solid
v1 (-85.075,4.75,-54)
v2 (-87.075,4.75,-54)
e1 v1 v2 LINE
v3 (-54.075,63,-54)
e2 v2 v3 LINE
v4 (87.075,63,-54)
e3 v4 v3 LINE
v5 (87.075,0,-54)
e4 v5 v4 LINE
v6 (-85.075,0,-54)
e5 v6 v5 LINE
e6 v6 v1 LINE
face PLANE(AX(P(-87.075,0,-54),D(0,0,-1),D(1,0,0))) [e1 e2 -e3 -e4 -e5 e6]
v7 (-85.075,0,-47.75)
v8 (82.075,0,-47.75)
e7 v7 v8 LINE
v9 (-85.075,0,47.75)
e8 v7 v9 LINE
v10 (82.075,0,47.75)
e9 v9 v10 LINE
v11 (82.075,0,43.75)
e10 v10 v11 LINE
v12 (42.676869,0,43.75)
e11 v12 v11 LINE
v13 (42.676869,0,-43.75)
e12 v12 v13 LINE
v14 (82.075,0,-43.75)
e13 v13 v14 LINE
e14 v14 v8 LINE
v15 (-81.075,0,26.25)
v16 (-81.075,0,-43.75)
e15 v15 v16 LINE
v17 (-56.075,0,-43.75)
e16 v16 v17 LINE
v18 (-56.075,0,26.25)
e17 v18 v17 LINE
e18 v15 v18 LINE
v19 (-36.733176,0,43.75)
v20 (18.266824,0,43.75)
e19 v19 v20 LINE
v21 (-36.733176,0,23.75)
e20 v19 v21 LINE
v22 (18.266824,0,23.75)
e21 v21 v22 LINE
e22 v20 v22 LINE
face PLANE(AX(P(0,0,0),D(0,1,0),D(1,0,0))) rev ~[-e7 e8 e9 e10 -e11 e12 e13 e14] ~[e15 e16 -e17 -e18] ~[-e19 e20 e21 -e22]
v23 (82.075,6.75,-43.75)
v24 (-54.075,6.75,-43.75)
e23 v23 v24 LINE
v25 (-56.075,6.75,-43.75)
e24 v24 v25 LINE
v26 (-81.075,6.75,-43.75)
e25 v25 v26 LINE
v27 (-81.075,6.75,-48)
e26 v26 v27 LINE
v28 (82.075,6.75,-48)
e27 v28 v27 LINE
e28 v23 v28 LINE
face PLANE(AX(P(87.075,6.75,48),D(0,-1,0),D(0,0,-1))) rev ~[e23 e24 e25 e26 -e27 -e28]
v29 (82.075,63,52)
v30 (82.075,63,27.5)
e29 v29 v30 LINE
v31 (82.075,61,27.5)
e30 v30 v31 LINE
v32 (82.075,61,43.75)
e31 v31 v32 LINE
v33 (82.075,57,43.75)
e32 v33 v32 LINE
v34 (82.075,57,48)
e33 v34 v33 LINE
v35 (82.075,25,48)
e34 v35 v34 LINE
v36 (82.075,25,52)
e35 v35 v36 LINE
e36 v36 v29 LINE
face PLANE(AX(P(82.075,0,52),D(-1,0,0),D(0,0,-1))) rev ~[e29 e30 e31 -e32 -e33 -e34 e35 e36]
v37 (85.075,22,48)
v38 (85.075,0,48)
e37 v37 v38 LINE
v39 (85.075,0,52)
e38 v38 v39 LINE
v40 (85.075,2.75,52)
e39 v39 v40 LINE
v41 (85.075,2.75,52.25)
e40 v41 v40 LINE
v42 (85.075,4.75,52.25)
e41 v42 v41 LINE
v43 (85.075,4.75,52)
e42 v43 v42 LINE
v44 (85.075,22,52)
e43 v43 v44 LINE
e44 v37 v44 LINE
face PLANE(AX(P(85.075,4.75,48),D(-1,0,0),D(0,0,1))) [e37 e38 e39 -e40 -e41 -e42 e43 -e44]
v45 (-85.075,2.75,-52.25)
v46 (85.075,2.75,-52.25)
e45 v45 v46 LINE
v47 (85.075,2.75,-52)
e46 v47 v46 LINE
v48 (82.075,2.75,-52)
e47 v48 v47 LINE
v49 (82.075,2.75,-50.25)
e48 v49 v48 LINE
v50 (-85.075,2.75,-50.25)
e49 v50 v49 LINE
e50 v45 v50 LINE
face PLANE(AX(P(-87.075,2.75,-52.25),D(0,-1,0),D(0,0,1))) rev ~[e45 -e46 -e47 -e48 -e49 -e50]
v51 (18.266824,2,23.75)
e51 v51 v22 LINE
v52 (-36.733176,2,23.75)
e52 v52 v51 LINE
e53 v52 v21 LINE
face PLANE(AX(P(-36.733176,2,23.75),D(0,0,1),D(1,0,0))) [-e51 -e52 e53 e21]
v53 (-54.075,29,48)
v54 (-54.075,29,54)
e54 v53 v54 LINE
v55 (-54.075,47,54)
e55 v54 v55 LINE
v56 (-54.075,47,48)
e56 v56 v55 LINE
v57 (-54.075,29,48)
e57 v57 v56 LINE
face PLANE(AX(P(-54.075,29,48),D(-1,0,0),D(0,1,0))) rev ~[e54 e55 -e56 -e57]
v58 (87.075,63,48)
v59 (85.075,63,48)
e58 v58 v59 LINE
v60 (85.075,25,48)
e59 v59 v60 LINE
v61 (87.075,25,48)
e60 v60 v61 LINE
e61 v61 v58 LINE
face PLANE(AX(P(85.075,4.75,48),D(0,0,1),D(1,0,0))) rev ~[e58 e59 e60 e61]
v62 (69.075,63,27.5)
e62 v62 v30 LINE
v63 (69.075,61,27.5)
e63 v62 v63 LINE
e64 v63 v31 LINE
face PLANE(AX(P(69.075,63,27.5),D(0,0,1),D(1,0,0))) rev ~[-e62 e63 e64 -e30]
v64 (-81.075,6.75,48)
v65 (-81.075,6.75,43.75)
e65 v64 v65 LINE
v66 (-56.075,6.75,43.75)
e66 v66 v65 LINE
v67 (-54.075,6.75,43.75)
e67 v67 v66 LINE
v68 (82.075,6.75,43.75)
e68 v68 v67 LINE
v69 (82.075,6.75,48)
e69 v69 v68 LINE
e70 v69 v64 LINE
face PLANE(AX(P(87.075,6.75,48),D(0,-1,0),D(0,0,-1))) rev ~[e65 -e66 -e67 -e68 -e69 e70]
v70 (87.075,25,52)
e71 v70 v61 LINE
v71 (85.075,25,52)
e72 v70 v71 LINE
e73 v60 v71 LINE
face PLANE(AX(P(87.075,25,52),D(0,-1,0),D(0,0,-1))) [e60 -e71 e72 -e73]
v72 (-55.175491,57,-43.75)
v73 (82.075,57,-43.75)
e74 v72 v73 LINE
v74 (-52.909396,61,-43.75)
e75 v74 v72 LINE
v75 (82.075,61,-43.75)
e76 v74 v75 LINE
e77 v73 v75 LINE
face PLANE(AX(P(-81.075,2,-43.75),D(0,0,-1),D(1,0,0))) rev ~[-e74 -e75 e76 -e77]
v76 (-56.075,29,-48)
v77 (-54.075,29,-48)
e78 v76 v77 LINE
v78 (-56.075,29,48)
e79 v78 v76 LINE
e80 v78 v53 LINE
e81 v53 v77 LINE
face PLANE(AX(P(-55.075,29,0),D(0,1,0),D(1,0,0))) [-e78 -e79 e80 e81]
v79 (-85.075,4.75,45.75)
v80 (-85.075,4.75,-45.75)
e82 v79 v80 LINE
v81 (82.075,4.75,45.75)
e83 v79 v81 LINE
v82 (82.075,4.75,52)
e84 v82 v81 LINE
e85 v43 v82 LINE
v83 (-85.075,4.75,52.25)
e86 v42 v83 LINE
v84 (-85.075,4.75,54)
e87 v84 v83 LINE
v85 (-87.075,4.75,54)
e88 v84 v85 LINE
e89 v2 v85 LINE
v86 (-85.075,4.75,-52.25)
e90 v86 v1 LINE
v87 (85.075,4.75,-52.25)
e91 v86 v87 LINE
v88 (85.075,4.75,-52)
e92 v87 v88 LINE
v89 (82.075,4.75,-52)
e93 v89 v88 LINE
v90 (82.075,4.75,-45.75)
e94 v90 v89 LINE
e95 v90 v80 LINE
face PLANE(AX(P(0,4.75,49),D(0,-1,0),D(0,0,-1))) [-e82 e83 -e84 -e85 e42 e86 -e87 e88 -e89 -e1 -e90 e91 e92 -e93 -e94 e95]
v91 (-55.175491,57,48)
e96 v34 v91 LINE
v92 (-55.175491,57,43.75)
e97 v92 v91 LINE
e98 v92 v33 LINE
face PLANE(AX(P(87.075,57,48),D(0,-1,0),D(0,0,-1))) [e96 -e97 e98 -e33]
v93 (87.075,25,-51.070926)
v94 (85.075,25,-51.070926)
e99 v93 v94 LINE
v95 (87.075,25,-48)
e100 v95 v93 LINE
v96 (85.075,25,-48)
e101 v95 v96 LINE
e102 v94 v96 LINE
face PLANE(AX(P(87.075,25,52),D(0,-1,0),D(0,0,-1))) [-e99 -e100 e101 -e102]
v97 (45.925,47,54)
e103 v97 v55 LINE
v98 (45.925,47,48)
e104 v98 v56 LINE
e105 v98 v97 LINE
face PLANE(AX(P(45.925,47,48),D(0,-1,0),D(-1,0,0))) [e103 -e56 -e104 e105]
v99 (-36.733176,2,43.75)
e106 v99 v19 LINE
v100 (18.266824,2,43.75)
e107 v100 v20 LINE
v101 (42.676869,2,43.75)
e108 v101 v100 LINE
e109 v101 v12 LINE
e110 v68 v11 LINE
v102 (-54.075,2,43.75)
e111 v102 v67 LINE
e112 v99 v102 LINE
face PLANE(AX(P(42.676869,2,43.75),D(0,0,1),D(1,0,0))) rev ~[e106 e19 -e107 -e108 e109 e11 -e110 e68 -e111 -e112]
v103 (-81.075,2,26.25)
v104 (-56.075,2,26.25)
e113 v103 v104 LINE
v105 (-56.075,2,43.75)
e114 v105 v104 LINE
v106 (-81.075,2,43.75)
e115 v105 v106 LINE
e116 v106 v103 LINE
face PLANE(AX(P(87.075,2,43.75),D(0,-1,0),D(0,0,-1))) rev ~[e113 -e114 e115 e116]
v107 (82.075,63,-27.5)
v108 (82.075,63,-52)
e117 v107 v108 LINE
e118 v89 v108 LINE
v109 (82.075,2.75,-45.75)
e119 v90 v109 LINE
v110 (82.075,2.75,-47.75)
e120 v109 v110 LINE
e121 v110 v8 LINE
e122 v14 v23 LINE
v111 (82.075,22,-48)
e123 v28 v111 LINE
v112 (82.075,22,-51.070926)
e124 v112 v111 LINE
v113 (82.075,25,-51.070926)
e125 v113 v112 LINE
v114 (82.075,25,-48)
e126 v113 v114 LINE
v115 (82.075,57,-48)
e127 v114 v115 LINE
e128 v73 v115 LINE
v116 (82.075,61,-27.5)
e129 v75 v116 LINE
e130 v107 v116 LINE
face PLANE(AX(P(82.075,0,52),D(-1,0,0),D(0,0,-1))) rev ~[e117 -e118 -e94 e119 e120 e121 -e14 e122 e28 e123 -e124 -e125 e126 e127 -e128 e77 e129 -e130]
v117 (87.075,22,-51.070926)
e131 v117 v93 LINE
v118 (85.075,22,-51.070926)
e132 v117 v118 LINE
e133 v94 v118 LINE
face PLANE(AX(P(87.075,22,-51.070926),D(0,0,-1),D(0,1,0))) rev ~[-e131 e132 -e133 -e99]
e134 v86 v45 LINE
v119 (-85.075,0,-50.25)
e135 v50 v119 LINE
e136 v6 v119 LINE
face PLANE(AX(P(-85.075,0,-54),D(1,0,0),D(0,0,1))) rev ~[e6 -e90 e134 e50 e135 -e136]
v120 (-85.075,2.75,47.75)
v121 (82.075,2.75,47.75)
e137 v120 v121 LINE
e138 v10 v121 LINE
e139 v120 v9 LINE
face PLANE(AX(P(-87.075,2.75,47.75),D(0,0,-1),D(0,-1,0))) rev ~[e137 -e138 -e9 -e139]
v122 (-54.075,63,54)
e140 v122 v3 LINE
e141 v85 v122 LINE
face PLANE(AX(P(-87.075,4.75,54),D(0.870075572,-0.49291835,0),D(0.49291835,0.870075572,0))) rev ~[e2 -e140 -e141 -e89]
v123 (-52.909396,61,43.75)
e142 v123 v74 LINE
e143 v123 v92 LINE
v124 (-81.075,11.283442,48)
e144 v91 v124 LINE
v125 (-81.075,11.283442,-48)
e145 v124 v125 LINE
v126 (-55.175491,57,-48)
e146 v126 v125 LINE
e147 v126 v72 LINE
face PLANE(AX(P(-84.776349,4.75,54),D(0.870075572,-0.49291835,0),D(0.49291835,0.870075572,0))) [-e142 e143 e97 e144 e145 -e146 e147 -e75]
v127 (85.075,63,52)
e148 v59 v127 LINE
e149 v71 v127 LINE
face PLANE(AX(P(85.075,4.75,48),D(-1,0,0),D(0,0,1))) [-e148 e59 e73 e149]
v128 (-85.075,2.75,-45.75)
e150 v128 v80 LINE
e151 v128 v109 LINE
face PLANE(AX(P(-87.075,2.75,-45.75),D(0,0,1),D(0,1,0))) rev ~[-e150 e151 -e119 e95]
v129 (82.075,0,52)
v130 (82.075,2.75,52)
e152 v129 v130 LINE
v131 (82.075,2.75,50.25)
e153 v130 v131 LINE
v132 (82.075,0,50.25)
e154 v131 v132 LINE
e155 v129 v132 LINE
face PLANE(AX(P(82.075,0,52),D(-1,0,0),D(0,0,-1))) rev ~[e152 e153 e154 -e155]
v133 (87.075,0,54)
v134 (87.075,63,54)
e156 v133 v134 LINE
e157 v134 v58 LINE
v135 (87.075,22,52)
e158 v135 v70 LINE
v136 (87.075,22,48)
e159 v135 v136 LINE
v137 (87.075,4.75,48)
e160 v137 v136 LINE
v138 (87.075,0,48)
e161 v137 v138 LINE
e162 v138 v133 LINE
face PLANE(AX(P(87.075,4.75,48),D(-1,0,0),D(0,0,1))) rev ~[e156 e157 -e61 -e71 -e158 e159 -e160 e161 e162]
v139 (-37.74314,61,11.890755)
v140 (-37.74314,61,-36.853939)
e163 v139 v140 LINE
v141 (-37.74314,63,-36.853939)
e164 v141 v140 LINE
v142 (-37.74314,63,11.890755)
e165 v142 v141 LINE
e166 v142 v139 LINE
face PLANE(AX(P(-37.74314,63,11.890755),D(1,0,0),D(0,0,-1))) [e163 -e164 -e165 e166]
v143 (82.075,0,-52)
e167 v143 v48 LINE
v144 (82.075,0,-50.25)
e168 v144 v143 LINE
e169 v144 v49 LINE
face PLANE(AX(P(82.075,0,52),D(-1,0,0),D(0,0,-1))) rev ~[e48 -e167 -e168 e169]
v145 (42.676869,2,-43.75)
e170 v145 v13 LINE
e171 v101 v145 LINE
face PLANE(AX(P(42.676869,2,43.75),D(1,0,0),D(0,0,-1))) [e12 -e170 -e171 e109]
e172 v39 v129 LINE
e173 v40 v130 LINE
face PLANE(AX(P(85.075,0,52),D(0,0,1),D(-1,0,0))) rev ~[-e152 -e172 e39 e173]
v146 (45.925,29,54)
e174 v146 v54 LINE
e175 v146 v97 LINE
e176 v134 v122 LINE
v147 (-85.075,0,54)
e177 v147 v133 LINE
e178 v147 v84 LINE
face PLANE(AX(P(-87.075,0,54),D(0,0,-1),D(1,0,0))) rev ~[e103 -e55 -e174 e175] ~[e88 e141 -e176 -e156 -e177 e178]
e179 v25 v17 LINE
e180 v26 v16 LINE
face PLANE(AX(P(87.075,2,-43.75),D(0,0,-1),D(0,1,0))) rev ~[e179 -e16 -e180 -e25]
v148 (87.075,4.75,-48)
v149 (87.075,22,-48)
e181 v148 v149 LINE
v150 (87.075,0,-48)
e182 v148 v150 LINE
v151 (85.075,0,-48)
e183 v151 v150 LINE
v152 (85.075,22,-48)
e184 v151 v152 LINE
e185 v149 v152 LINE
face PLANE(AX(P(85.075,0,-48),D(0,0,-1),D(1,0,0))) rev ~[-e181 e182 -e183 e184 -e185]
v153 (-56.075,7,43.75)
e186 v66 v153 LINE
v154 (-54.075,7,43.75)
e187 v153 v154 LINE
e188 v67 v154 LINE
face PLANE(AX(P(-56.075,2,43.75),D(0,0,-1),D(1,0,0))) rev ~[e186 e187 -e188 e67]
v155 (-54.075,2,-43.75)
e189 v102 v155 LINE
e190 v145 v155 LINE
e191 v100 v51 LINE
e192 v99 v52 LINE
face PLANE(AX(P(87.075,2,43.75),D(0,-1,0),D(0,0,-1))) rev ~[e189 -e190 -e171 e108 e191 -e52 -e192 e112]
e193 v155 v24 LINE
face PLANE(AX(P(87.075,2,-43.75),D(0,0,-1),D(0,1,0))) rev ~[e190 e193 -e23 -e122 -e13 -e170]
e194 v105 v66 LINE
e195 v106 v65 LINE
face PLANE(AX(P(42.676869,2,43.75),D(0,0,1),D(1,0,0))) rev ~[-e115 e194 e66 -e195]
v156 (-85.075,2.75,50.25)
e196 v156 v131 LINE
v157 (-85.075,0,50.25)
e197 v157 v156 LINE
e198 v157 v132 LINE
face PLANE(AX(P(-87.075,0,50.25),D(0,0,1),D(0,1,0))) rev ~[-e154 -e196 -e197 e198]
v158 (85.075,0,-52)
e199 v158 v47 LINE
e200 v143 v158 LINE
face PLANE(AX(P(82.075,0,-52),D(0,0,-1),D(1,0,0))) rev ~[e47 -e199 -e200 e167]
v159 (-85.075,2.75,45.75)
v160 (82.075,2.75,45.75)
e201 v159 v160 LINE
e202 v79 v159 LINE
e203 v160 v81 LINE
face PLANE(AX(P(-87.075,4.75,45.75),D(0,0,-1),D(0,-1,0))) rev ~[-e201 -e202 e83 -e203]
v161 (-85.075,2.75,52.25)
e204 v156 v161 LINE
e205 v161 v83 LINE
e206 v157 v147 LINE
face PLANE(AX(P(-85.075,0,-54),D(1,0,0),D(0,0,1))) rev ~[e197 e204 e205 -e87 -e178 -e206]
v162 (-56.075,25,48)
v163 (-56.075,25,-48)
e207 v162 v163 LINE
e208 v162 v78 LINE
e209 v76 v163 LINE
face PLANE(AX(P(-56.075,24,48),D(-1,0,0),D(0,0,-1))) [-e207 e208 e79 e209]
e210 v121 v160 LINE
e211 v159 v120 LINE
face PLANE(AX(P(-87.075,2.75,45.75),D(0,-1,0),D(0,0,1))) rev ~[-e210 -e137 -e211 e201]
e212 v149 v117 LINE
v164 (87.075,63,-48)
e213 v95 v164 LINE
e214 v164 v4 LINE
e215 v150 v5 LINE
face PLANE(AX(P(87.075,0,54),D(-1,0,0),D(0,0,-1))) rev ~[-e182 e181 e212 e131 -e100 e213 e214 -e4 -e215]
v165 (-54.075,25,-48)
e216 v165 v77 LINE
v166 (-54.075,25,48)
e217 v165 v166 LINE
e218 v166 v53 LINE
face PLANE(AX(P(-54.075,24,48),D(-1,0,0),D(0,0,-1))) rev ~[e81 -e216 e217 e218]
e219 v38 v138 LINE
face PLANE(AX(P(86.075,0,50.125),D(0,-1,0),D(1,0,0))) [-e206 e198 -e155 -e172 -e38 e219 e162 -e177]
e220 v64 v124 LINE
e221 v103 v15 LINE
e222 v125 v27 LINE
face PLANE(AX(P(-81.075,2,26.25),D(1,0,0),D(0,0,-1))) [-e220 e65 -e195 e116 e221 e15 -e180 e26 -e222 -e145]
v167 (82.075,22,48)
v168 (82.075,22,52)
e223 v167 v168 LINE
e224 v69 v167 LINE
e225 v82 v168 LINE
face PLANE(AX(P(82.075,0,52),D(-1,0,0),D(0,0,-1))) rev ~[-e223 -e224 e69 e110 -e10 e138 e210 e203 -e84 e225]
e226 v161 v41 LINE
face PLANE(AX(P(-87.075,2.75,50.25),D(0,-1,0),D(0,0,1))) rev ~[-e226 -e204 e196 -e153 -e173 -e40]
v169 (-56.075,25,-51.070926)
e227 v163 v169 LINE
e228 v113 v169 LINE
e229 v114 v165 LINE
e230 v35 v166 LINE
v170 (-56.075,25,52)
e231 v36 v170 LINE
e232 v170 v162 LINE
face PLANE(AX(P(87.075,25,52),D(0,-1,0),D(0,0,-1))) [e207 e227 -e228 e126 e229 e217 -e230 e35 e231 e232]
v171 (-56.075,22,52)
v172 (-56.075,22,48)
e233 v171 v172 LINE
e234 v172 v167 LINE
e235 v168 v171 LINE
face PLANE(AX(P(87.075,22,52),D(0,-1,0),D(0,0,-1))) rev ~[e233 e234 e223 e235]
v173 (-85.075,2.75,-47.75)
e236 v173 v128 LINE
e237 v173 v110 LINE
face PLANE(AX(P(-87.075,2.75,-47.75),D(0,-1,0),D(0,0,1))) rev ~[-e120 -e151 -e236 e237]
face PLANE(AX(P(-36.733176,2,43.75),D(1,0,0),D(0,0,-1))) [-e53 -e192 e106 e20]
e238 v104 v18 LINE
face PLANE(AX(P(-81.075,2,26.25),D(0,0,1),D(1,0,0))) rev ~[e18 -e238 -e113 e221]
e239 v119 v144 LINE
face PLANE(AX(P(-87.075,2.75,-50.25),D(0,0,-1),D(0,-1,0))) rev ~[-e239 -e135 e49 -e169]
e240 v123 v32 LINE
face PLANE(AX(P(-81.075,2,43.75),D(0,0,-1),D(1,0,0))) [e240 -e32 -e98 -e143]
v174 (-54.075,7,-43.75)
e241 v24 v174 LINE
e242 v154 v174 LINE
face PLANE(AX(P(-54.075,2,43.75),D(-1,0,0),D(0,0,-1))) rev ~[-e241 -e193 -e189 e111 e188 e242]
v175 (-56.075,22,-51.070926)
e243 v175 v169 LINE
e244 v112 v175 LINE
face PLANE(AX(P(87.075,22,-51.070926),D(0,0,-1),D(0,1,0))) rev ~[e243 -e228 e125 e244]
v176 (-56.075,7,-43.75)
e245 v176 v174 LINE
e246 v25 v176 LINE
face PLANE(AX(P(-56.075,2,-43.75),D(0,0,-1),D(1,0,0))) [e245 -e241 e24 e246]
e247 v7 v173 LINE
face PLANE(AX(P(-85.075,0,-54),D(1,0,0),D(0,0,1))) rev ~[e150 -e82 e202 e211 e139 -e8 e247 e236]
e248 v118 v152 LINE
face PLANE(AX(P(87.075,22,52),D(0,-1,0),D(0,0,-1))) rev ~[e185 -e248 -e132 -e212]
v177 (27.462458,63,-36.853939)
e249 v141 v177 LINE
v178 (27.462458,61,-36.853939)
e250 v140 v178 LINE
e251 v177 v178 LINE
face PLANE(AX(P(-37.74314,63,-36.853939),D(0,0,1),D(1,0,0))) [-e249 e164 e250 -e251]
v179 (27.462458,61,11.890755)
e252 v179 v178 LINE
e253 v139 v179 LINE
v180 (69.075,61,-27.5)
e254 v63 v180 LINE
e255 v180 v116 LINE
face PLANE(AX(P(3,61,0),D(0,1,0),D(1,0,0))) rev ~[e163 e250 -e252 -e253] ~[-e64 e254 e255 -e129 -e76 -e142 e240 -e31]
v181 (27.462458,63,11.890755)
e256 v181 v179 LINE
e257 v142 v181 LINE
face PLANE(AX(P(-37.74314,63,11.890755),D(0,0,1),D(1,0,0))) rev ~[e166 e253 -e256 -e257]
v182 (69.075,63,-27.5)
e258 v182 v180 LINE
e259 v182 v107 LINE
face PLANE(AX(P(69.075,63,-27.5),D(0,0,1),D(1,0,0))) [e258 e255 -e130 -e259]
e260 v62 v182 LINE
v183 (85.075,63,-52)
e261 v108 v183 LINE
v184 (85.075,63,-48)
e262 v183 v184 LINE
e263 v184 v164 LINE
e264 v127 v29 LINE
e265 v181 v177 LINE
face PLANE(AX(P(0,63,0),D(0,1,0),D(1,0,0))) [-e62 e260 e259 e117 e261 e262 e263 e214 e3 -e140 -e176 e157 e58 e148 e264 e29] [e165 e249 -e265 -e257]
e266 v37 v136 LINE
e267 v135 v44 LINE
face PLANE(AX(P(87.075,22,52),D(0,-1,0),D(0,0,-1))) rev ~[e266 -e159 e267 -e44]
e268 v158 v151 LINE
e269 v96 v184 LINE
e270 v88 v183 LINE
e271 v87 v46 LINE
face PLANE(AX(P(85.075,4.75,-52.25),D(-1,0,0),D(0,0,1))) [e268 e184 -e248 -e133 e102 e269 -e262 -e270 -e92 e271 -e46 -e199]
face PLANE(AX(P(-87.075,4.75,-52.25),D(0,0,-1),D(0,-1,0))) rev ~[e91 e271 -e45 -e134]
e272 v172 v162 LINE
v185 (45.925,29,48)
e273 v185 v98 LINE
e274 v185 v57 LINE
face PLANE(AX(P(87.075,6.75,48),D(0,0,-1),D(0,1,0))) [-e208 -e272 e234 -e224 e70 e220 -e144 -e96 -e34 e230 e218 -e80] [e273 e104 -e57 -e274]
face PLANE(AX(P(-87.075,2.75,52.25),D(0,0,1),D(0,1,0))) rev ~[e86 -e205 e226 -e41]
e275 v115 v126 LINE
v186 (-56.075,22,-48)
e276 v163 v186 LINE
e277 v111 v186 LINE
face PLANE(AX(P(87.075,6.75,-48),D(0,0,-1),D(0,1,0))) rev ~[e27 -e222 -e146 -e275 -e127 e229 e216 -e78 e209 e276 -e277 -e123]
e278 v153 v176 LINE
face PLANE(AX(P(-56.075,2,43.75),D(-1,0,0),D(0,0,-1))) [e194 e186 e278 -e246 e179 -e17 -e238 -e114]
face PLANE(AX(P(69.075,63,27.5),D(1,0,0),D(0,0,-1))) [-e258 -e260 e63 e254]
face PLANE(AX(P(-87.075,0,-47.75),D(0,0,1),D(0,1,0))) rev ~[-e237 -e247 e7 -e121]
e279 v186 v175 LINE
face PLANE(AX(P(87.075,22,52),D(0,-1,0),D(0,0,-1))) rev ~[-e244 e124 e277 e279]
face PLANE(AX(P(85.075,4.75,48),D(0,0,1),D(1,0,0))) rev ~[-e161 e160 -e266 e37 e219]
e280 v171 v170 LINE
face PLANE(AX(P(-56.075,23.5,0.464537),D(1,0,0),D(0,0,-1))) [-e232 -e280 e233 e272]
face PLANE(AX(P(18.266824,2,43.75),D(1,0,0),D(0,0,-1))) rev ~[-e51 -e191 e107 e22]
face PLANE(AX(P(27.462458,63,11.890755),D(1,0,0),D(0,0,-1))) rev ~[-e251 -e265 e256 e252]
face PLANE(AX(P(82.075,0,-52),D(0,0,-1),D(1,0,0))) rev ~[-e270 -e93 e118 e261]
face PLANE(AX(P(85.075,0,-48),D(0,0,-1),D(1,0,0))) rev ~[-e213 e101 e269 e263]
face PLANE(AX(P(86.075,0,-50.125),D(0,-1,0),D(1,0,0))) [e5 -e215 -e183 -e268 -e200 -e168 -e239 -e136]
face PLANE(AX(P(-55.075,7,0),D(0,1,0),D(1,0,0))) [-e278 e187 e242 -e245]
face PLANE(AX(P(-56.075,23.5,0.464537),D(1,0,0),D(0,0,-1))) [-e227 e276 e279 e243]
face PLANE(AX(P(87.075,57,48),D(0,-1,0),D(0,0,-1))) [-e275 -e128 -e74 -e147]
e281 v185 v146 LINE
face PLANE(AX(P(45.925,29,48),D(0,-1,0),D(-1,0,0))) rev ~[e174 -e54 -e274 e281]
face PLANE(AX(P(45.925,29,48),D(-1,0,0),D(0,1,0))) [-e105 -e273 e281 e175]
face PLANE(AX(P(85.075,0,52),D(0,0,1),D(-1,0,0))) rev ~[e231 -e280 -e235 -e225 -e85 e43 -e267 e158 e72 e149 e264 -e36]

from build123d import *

# Parameters (mm, degrees)
SKETCH_1_W           = 174.15
SKETCH_1_H           = 108
EXTRUDE_1_DEPTH      = 63
CUT_EXTRUDE_2_DEPTH  = 174.15
CUT_EXTRUDE_3_REACH  = 122.279
SKETCH_6_W           = 2
SKETCH_6_H           = 108
SKETCH_7_W           = 96
SKETCH_7_H           = 50.25
CUT_EXTRUDE_5_DEPTH  = 168.15
SKETCH_8_W           = 87.5
SKETCH_8_H           = 4.75
CUT_EXTRUDE_6_DEPTH  = 168.15
SKETCH_10_W          = 168.15
SKETCH_10_H          = 87.5
CUT_EXTRUDE_8_DEPTH  = 59
SKETCH_12_W          = 168.15
SKETCH_12_H          = 96
EXTRUDE_2_DEPTH      = 2
SKETCH_15_W          = 25
SKETCH_15_H          = 70
SKETCH_15_W_2        = 55
SKETCH_15_H_2        = 20
SKETCH_15_W_3        = 44.398131355
SKETCH_15_H_3        = 87.5
CUT_EXTRUDE_9_DEPTH  = 2
SKETCH_16_W          = 25
SKETCH_16_H          = 96
SKETCH_16_W_2        = 32.283516817
CUT_EXTRUDE_10_DEPTH = 2
SKETCH_17_W          = 2
SKETCH_17_H          = 96
EXTRUDE_3_DEPTH      = 5
SKETCH_18_W          = 2
SKETCH_18_H          = 87.5
EXTRUDE_4_DEPTH      = 5
SKETCH_19_W          = 100
SKETCH_19_H          = 18
CUT_EXTRUDE_11_DEPTH = 6
CUT_EXTRUDE_12_REACH = 154.365
EXTRUDE_5_REACH      = 154.365
SKETCH_23_W          = 65.205598619
SKETCH_23_H          = 48.744694075
CUT_EXTRUDE_13_DEPTH = 2
CUT_EXTRUDE_START    = -63
CUT_EXTRUDE_14_DEPTH = 63
SKETCH_28_W          = 2
SKETCH_28_H          = 4.25
EXTRUDE_6_DEPTH      = 4.75
SKETCH_31_W          = 13
SKETCH_31_H          = 55
CUT_EXTRUDE_15_DEPTH = 10
SKETCH_34_W          = 103.070926165
SKETCH_34_H          = 3
CUT_EXTRUDE_16_DEPTH = 143.15


with BuildPart() as part:
    # 스케치1 → 보스-돌출1 (new body)
    with BuildSketch(Plane(origin=(0, 0, 0), x_dir=(1, 0, 0), z_dir=(0, 1, 0))):
        Rectangle(SKETCH_1_W, SKETCH_1_H)
    extrude(amount=EXTRUDE_1_DEPTH)

    # 스케치5 → 컷-돌출2 (cut)
    with BuildSketch(Plane.ZY.offset(87.075)):
        Polygon((-48, 0), (-47.75, 0), (-47.75, 2.75), (-45.75, 2.75), (-45.75, 4.75), (-52.25, 4.75), (-52.25, 2.75), (-50.25, 2.75), (-50.25, 0), (-50, 0), (-50, 3), (-52, 3), (-52, 4.5), (-46, 4.5), (-46, 3), (-48, 3), align=None)
        Polygon((-50, 0), (-48, 0), (-48, 3), (-46, 3), (-46, 4.5), (-52, 4.5), (-52, 3), (-50, 3), align=None)
        Polygon((50, 3), (50, 0), (50.25, 0), (50.25, 2.75), (52.25, 2.75), (52.25, 4.75), (45.75, 4.75), (45.75, 2.75), (47.75, 2.75), (47.75, 0), (48, 0), (48, 3), (46, 3), (46, 4.5), (52, 4.5), (52, 3), align=None)
        Polygon((48, 0), (50, 0), (50, 3), (52, 3), (52, 4.5), (46, 4.5), (46, 3), (48, 3), align=None)
    extrude(amount=-CUT_EXTRUDE_2_DEPTH, mode=Mode.SUBTRACT)

    # 컷-돌출3: up to this face of the body (flat: up to its plane)
    cut_extrude_3_end = Plane(part.part.faces().sort_by_distance((0, 4.75, 49))[0])
    # 스케치6 → 컷-돌출3 (cut, up to the picked face)
    with BuildSketch(Plane.XZ, mode=Mode.PRIVATE) as cut_extrude_3_sk1:
        with Locations((-86.075, 0)):
            Rectangle(SKETCH_6_W, SKETCH_6_H)
    cut_extrude_3_tool1 = split(extrude(cut_extrude_3_sk1.sketch, amount=-CUT_EXTRUDE_3_REACH, mode=Mode.PRIVATE), bisect_by=cut_extrude_3_end, keep=Keep.BOTH, mode=Mode.PRIVATE)
    add(cut_extrude_3_tool1.solids().sort_by(Axis((-86.075, 0, 0), (0, 1, 0)))[0], mode=Mode.SUBTRACT)

    # 스케치7 → 컷-돌출5 (cut)
    with BuildSketch(Plane(origin=(87.075, 0, 0), x_dir=(0, 0, -1), z_dir=(1, 0, 0))):
        with Locations((0, 31.875)):
            Rectangle(SKETCH_7_W, SKETCH_7_H)
    extrude(amount=-CUT_EXTRUDE_5_DEPTH, mode=Mode.SUBTRACT)

    # 스케치8 → 컷-돌출6 (cut)
    with BuildSketch(Plane(origin=(87.075, 0, 0), x_dir=(0, 0, -1), z_dir=(1, 0, 0))):
        with Locations((0, 4.375)):
            Rectangle(SKETCH_8_W, SKETCH_8_H)
    extrude(amount=-CUT_EXTRUDE_6_DEPTH, mode=Mode.SUBTRACT)

    # 스케치10 → 컷-돌출8 (cut)
    with BuildSketch(Plane(origin=(0, 2, 0), x_dir=(1, 0, 0), z_dir=(0, 1, 0))):
        with Locations((3, 0)):
            Rectangle(SKETCH_10_W, SKETCH_10_H)
    extrude(amount=CUT_EXTRUDE_8_DEPTH, mode=Mode.SUBTRACT)

    # 스케치12 → 보스-돌출2 (add)
    with BuildSketch(Plane(origin=(0, 24, 0), x_dir=(-1, 0, 0), z_dir=(0, -1, 0))):
        with Locations((-3, 0)):
            Rectangle(SKETCH_12_W, SKETCH_12_H)
    extrude(amount=EXTRUDE_2_DEPTH)

    # 스케치15 → 컷-돌출9 (cut)
    with BuildSketch(Plane(origin=(0, 2, 0), x_dir=(1, 0, 0), z_dir=(0, 1, 0))):
        with Locations((-68.575, 8.75)):
            Rectangle(SKETCH_15_W, SKETCH_15_H)
        with Locations((-9.233175572, -33.75)):
            Rectangle(SKETCH_15_W_2, SKETCH_15_H_2)
        with Locations((64.875934323, 0)):
            Rectangle(SKETCH_15_W_3, SKETCH_15_H_3)
    extrude(amount=-CUT_EXTRUDE_9_DEPTH, mode=Mode.SUBTRACT)

    # 스케치16 → 컷-돌출10 (cut)
    with BuildSketch(Plane(origin=(0, 24, 0), x_dir=(1, 0, 0), z_dir=(0, 1, 0))):
        with Locations((-68.575, 0)):
            Rectangle(SKETCH_16_W, SKETCH_16_H)
        with Locations((70.933241592, 0)):
            Rectangle(SKETCH_16_W_2, SKETCH_16_H)
    extrude(amount=-CUT_EXTRUDE_10_DEPTH, mode=Mode.SUBTRACT)

    # 스케치17 → 보스-돌출3 (add)
    with BuildSketch(Plane(origin=(0, 24, 0), x_dir=(1, 0, 0), z_dir=(0, 1, 0))):
        with Locations((-55.075, 0)):
            Rectangle(SKETCH_17_W, SKETCH_17_H)
    extrude(amount=EXTRUDE_3_DEPTH)

    # 스케치18 → 보스-돌출4 (add)
    with BuildSketch(Plane(origin=(0, 2, 0), x_dir=(1, 0, 0), z_dir=(0, 1, 0))):
        with Locations((-55.075, 0)):
            Rectangle(SKETCH_18_W, SKETCH_18_H)
    extrude(amount=EXTRUDE_4_DEPTH)

    # 스케치19 → 컷-돌출11 (cut)
    with BuildSketch(Plane(origin=(0, 0, 48), x_dir=(-1, 0, 0), z_dir=(0, 0, -1))):
        with Locations((4.075, 38)):
            Rectangle(SKETCH_19_W, SKETCH_19_H)
    extrude(amount=-CUT_EXTRUDE_11_DEPTH, mode=Mode.SUBTRACT)

    # 컷-돌출12: up to this face of the body (flat: up to its plane)
    cut_extrude_12_end = Plane(part.part.faces().sort_by_distance((0.074595533, 31.525240719, -54))[0])
    # 스케치20 → 컷-돌출12 (cut, up to the picked face)
    with BuildSketch(Plane.XY.offset(54), mode=Mode.PRIVATE) as cut_extrude_12_sk1:
        Polygon((-87.075, 4.75), (-54.075, 63), (-87.075, 63), align=None)
    cut_extrude_12_tool1 = split(extrude(cut_extrude_12_sk1.sketch, amount=-CUT_EXTRUDE_12_REACH, mode=Mode.PRIVATE), bisect_by=cut_extrude_12_end, keep=Keep.BOTH, mode=Mode.PRIVATE)
    add(cut_extrude_12_tool1.solids().sort_by(Axis((-76.075, 43.583333, 54), (0, 0, -1)))[0], mode=Mode.SUBTRACT)

    # 보스-돌출5: up to this face of the body (flat: up to its plane)
    extrude_5_end = Plane(part.part.faces().sort_by_distance((7.392919772, 30.366402897, -54))[0])
    # 스케치21 → 보스-돌출5 (add, up to the picked face)
    with BuildSketch(Plane.XY.offset(54), mode=Mode.PRIVATE) as extrude_5_sk1:
        Polygon((-87.075, 4.75), (-84.776349095, 4.75), (-51.776349095, 63), (-54.075, 63), align=None)
    extrude_5_tool1 = split(extrude(extrude_5_sk1.sketch, amount=-EXTRUDE_5_REACH, mode=Mode.PRIVATE), bisect_by=extrude_5_end, keep=Keep.BOTH, mode=Mode.PRIVATE)
    add(extrude_5_tool1.solids().sort_by(Axis((-69.425675, 33.875, 54), (0, 0, -1)))[0])

    # 스케치23 → 컷-돌출13 (cut)
    with BuildSketch(Plane(origin=(0, 63, 0), x_dir=(1, 0, 0), z_dir=(0, 1, 0))):
        with Locations((-5.140341164, 12.481591832)):
            Rectangle(SKETCH_23_W, SKETCH_23_H)
    extrude(amount=-CUT_EXTRUDE_13_DEPTH, mode=Mode.SUBTRACT)

    # 스케치26 → 컷-돌출14 (cut)
    with BuildSketch(Plane(origin=(0, 63, 0), x_dir=(1, 0, 0), z_dir=(0, 1, 0)).offset(CUT_EXTRUDE_START)):
        Polygon((82.075, 52), (85.075, 52), (85.075, 48), (87.075, 48), (87.075, -48), (85.075, -48), (85.075, -52), (82.075, -52), align=None)
    extrude(amount=CUT_EXTRUDE_14_DEPTH, mode=Mode.SUBTRACT)

    # 스케치28 → 보스-돌출6 (add)
    with BuildSketch(Plane.XZ.offset(-4.75)):
        with Locations((86.075, 50.125)):
            Rectangle(SKETCH_28_W, SKETCH_28_H)
        with Locations((86.075, -50.125)):
            Rectangle(SKETCH_28_W, SKETCH_28_H)
    extrude(amount=EXTRUDE_6_DEPTH)

    # 스케치31 → 컷-돌출15 (cut)
    with BuildSketch(Plane(origin=(0, 63, 0), x_dir=(1, 0, 0), z_dir=(0, 1, 0))):
        with Locations((75.575, 0)):
            Rectangle(SKETCH_31_W, SKETCH_31_H)
    extrude(amount=-CUT_EXTRUDE_15_DEPTH, mode=Mode.SUBTRACT)

    # 스케치34 → 컷-돌출16 (cut)
    with BuildSketch(Plane(origin=(87.075, 0, 0), x_dir=(0, 0, -1), z_dir=(1, 0, 0))):
        with Locations((-0.464536917, 23.5)):
            Rectangle(SKETCH_34_W, SKETCH_34_H)
    extrude(amount=-CUT_EXTRUDE_16_DEPTH, mode=Mode.SUBTRACT)


solid = part.part
